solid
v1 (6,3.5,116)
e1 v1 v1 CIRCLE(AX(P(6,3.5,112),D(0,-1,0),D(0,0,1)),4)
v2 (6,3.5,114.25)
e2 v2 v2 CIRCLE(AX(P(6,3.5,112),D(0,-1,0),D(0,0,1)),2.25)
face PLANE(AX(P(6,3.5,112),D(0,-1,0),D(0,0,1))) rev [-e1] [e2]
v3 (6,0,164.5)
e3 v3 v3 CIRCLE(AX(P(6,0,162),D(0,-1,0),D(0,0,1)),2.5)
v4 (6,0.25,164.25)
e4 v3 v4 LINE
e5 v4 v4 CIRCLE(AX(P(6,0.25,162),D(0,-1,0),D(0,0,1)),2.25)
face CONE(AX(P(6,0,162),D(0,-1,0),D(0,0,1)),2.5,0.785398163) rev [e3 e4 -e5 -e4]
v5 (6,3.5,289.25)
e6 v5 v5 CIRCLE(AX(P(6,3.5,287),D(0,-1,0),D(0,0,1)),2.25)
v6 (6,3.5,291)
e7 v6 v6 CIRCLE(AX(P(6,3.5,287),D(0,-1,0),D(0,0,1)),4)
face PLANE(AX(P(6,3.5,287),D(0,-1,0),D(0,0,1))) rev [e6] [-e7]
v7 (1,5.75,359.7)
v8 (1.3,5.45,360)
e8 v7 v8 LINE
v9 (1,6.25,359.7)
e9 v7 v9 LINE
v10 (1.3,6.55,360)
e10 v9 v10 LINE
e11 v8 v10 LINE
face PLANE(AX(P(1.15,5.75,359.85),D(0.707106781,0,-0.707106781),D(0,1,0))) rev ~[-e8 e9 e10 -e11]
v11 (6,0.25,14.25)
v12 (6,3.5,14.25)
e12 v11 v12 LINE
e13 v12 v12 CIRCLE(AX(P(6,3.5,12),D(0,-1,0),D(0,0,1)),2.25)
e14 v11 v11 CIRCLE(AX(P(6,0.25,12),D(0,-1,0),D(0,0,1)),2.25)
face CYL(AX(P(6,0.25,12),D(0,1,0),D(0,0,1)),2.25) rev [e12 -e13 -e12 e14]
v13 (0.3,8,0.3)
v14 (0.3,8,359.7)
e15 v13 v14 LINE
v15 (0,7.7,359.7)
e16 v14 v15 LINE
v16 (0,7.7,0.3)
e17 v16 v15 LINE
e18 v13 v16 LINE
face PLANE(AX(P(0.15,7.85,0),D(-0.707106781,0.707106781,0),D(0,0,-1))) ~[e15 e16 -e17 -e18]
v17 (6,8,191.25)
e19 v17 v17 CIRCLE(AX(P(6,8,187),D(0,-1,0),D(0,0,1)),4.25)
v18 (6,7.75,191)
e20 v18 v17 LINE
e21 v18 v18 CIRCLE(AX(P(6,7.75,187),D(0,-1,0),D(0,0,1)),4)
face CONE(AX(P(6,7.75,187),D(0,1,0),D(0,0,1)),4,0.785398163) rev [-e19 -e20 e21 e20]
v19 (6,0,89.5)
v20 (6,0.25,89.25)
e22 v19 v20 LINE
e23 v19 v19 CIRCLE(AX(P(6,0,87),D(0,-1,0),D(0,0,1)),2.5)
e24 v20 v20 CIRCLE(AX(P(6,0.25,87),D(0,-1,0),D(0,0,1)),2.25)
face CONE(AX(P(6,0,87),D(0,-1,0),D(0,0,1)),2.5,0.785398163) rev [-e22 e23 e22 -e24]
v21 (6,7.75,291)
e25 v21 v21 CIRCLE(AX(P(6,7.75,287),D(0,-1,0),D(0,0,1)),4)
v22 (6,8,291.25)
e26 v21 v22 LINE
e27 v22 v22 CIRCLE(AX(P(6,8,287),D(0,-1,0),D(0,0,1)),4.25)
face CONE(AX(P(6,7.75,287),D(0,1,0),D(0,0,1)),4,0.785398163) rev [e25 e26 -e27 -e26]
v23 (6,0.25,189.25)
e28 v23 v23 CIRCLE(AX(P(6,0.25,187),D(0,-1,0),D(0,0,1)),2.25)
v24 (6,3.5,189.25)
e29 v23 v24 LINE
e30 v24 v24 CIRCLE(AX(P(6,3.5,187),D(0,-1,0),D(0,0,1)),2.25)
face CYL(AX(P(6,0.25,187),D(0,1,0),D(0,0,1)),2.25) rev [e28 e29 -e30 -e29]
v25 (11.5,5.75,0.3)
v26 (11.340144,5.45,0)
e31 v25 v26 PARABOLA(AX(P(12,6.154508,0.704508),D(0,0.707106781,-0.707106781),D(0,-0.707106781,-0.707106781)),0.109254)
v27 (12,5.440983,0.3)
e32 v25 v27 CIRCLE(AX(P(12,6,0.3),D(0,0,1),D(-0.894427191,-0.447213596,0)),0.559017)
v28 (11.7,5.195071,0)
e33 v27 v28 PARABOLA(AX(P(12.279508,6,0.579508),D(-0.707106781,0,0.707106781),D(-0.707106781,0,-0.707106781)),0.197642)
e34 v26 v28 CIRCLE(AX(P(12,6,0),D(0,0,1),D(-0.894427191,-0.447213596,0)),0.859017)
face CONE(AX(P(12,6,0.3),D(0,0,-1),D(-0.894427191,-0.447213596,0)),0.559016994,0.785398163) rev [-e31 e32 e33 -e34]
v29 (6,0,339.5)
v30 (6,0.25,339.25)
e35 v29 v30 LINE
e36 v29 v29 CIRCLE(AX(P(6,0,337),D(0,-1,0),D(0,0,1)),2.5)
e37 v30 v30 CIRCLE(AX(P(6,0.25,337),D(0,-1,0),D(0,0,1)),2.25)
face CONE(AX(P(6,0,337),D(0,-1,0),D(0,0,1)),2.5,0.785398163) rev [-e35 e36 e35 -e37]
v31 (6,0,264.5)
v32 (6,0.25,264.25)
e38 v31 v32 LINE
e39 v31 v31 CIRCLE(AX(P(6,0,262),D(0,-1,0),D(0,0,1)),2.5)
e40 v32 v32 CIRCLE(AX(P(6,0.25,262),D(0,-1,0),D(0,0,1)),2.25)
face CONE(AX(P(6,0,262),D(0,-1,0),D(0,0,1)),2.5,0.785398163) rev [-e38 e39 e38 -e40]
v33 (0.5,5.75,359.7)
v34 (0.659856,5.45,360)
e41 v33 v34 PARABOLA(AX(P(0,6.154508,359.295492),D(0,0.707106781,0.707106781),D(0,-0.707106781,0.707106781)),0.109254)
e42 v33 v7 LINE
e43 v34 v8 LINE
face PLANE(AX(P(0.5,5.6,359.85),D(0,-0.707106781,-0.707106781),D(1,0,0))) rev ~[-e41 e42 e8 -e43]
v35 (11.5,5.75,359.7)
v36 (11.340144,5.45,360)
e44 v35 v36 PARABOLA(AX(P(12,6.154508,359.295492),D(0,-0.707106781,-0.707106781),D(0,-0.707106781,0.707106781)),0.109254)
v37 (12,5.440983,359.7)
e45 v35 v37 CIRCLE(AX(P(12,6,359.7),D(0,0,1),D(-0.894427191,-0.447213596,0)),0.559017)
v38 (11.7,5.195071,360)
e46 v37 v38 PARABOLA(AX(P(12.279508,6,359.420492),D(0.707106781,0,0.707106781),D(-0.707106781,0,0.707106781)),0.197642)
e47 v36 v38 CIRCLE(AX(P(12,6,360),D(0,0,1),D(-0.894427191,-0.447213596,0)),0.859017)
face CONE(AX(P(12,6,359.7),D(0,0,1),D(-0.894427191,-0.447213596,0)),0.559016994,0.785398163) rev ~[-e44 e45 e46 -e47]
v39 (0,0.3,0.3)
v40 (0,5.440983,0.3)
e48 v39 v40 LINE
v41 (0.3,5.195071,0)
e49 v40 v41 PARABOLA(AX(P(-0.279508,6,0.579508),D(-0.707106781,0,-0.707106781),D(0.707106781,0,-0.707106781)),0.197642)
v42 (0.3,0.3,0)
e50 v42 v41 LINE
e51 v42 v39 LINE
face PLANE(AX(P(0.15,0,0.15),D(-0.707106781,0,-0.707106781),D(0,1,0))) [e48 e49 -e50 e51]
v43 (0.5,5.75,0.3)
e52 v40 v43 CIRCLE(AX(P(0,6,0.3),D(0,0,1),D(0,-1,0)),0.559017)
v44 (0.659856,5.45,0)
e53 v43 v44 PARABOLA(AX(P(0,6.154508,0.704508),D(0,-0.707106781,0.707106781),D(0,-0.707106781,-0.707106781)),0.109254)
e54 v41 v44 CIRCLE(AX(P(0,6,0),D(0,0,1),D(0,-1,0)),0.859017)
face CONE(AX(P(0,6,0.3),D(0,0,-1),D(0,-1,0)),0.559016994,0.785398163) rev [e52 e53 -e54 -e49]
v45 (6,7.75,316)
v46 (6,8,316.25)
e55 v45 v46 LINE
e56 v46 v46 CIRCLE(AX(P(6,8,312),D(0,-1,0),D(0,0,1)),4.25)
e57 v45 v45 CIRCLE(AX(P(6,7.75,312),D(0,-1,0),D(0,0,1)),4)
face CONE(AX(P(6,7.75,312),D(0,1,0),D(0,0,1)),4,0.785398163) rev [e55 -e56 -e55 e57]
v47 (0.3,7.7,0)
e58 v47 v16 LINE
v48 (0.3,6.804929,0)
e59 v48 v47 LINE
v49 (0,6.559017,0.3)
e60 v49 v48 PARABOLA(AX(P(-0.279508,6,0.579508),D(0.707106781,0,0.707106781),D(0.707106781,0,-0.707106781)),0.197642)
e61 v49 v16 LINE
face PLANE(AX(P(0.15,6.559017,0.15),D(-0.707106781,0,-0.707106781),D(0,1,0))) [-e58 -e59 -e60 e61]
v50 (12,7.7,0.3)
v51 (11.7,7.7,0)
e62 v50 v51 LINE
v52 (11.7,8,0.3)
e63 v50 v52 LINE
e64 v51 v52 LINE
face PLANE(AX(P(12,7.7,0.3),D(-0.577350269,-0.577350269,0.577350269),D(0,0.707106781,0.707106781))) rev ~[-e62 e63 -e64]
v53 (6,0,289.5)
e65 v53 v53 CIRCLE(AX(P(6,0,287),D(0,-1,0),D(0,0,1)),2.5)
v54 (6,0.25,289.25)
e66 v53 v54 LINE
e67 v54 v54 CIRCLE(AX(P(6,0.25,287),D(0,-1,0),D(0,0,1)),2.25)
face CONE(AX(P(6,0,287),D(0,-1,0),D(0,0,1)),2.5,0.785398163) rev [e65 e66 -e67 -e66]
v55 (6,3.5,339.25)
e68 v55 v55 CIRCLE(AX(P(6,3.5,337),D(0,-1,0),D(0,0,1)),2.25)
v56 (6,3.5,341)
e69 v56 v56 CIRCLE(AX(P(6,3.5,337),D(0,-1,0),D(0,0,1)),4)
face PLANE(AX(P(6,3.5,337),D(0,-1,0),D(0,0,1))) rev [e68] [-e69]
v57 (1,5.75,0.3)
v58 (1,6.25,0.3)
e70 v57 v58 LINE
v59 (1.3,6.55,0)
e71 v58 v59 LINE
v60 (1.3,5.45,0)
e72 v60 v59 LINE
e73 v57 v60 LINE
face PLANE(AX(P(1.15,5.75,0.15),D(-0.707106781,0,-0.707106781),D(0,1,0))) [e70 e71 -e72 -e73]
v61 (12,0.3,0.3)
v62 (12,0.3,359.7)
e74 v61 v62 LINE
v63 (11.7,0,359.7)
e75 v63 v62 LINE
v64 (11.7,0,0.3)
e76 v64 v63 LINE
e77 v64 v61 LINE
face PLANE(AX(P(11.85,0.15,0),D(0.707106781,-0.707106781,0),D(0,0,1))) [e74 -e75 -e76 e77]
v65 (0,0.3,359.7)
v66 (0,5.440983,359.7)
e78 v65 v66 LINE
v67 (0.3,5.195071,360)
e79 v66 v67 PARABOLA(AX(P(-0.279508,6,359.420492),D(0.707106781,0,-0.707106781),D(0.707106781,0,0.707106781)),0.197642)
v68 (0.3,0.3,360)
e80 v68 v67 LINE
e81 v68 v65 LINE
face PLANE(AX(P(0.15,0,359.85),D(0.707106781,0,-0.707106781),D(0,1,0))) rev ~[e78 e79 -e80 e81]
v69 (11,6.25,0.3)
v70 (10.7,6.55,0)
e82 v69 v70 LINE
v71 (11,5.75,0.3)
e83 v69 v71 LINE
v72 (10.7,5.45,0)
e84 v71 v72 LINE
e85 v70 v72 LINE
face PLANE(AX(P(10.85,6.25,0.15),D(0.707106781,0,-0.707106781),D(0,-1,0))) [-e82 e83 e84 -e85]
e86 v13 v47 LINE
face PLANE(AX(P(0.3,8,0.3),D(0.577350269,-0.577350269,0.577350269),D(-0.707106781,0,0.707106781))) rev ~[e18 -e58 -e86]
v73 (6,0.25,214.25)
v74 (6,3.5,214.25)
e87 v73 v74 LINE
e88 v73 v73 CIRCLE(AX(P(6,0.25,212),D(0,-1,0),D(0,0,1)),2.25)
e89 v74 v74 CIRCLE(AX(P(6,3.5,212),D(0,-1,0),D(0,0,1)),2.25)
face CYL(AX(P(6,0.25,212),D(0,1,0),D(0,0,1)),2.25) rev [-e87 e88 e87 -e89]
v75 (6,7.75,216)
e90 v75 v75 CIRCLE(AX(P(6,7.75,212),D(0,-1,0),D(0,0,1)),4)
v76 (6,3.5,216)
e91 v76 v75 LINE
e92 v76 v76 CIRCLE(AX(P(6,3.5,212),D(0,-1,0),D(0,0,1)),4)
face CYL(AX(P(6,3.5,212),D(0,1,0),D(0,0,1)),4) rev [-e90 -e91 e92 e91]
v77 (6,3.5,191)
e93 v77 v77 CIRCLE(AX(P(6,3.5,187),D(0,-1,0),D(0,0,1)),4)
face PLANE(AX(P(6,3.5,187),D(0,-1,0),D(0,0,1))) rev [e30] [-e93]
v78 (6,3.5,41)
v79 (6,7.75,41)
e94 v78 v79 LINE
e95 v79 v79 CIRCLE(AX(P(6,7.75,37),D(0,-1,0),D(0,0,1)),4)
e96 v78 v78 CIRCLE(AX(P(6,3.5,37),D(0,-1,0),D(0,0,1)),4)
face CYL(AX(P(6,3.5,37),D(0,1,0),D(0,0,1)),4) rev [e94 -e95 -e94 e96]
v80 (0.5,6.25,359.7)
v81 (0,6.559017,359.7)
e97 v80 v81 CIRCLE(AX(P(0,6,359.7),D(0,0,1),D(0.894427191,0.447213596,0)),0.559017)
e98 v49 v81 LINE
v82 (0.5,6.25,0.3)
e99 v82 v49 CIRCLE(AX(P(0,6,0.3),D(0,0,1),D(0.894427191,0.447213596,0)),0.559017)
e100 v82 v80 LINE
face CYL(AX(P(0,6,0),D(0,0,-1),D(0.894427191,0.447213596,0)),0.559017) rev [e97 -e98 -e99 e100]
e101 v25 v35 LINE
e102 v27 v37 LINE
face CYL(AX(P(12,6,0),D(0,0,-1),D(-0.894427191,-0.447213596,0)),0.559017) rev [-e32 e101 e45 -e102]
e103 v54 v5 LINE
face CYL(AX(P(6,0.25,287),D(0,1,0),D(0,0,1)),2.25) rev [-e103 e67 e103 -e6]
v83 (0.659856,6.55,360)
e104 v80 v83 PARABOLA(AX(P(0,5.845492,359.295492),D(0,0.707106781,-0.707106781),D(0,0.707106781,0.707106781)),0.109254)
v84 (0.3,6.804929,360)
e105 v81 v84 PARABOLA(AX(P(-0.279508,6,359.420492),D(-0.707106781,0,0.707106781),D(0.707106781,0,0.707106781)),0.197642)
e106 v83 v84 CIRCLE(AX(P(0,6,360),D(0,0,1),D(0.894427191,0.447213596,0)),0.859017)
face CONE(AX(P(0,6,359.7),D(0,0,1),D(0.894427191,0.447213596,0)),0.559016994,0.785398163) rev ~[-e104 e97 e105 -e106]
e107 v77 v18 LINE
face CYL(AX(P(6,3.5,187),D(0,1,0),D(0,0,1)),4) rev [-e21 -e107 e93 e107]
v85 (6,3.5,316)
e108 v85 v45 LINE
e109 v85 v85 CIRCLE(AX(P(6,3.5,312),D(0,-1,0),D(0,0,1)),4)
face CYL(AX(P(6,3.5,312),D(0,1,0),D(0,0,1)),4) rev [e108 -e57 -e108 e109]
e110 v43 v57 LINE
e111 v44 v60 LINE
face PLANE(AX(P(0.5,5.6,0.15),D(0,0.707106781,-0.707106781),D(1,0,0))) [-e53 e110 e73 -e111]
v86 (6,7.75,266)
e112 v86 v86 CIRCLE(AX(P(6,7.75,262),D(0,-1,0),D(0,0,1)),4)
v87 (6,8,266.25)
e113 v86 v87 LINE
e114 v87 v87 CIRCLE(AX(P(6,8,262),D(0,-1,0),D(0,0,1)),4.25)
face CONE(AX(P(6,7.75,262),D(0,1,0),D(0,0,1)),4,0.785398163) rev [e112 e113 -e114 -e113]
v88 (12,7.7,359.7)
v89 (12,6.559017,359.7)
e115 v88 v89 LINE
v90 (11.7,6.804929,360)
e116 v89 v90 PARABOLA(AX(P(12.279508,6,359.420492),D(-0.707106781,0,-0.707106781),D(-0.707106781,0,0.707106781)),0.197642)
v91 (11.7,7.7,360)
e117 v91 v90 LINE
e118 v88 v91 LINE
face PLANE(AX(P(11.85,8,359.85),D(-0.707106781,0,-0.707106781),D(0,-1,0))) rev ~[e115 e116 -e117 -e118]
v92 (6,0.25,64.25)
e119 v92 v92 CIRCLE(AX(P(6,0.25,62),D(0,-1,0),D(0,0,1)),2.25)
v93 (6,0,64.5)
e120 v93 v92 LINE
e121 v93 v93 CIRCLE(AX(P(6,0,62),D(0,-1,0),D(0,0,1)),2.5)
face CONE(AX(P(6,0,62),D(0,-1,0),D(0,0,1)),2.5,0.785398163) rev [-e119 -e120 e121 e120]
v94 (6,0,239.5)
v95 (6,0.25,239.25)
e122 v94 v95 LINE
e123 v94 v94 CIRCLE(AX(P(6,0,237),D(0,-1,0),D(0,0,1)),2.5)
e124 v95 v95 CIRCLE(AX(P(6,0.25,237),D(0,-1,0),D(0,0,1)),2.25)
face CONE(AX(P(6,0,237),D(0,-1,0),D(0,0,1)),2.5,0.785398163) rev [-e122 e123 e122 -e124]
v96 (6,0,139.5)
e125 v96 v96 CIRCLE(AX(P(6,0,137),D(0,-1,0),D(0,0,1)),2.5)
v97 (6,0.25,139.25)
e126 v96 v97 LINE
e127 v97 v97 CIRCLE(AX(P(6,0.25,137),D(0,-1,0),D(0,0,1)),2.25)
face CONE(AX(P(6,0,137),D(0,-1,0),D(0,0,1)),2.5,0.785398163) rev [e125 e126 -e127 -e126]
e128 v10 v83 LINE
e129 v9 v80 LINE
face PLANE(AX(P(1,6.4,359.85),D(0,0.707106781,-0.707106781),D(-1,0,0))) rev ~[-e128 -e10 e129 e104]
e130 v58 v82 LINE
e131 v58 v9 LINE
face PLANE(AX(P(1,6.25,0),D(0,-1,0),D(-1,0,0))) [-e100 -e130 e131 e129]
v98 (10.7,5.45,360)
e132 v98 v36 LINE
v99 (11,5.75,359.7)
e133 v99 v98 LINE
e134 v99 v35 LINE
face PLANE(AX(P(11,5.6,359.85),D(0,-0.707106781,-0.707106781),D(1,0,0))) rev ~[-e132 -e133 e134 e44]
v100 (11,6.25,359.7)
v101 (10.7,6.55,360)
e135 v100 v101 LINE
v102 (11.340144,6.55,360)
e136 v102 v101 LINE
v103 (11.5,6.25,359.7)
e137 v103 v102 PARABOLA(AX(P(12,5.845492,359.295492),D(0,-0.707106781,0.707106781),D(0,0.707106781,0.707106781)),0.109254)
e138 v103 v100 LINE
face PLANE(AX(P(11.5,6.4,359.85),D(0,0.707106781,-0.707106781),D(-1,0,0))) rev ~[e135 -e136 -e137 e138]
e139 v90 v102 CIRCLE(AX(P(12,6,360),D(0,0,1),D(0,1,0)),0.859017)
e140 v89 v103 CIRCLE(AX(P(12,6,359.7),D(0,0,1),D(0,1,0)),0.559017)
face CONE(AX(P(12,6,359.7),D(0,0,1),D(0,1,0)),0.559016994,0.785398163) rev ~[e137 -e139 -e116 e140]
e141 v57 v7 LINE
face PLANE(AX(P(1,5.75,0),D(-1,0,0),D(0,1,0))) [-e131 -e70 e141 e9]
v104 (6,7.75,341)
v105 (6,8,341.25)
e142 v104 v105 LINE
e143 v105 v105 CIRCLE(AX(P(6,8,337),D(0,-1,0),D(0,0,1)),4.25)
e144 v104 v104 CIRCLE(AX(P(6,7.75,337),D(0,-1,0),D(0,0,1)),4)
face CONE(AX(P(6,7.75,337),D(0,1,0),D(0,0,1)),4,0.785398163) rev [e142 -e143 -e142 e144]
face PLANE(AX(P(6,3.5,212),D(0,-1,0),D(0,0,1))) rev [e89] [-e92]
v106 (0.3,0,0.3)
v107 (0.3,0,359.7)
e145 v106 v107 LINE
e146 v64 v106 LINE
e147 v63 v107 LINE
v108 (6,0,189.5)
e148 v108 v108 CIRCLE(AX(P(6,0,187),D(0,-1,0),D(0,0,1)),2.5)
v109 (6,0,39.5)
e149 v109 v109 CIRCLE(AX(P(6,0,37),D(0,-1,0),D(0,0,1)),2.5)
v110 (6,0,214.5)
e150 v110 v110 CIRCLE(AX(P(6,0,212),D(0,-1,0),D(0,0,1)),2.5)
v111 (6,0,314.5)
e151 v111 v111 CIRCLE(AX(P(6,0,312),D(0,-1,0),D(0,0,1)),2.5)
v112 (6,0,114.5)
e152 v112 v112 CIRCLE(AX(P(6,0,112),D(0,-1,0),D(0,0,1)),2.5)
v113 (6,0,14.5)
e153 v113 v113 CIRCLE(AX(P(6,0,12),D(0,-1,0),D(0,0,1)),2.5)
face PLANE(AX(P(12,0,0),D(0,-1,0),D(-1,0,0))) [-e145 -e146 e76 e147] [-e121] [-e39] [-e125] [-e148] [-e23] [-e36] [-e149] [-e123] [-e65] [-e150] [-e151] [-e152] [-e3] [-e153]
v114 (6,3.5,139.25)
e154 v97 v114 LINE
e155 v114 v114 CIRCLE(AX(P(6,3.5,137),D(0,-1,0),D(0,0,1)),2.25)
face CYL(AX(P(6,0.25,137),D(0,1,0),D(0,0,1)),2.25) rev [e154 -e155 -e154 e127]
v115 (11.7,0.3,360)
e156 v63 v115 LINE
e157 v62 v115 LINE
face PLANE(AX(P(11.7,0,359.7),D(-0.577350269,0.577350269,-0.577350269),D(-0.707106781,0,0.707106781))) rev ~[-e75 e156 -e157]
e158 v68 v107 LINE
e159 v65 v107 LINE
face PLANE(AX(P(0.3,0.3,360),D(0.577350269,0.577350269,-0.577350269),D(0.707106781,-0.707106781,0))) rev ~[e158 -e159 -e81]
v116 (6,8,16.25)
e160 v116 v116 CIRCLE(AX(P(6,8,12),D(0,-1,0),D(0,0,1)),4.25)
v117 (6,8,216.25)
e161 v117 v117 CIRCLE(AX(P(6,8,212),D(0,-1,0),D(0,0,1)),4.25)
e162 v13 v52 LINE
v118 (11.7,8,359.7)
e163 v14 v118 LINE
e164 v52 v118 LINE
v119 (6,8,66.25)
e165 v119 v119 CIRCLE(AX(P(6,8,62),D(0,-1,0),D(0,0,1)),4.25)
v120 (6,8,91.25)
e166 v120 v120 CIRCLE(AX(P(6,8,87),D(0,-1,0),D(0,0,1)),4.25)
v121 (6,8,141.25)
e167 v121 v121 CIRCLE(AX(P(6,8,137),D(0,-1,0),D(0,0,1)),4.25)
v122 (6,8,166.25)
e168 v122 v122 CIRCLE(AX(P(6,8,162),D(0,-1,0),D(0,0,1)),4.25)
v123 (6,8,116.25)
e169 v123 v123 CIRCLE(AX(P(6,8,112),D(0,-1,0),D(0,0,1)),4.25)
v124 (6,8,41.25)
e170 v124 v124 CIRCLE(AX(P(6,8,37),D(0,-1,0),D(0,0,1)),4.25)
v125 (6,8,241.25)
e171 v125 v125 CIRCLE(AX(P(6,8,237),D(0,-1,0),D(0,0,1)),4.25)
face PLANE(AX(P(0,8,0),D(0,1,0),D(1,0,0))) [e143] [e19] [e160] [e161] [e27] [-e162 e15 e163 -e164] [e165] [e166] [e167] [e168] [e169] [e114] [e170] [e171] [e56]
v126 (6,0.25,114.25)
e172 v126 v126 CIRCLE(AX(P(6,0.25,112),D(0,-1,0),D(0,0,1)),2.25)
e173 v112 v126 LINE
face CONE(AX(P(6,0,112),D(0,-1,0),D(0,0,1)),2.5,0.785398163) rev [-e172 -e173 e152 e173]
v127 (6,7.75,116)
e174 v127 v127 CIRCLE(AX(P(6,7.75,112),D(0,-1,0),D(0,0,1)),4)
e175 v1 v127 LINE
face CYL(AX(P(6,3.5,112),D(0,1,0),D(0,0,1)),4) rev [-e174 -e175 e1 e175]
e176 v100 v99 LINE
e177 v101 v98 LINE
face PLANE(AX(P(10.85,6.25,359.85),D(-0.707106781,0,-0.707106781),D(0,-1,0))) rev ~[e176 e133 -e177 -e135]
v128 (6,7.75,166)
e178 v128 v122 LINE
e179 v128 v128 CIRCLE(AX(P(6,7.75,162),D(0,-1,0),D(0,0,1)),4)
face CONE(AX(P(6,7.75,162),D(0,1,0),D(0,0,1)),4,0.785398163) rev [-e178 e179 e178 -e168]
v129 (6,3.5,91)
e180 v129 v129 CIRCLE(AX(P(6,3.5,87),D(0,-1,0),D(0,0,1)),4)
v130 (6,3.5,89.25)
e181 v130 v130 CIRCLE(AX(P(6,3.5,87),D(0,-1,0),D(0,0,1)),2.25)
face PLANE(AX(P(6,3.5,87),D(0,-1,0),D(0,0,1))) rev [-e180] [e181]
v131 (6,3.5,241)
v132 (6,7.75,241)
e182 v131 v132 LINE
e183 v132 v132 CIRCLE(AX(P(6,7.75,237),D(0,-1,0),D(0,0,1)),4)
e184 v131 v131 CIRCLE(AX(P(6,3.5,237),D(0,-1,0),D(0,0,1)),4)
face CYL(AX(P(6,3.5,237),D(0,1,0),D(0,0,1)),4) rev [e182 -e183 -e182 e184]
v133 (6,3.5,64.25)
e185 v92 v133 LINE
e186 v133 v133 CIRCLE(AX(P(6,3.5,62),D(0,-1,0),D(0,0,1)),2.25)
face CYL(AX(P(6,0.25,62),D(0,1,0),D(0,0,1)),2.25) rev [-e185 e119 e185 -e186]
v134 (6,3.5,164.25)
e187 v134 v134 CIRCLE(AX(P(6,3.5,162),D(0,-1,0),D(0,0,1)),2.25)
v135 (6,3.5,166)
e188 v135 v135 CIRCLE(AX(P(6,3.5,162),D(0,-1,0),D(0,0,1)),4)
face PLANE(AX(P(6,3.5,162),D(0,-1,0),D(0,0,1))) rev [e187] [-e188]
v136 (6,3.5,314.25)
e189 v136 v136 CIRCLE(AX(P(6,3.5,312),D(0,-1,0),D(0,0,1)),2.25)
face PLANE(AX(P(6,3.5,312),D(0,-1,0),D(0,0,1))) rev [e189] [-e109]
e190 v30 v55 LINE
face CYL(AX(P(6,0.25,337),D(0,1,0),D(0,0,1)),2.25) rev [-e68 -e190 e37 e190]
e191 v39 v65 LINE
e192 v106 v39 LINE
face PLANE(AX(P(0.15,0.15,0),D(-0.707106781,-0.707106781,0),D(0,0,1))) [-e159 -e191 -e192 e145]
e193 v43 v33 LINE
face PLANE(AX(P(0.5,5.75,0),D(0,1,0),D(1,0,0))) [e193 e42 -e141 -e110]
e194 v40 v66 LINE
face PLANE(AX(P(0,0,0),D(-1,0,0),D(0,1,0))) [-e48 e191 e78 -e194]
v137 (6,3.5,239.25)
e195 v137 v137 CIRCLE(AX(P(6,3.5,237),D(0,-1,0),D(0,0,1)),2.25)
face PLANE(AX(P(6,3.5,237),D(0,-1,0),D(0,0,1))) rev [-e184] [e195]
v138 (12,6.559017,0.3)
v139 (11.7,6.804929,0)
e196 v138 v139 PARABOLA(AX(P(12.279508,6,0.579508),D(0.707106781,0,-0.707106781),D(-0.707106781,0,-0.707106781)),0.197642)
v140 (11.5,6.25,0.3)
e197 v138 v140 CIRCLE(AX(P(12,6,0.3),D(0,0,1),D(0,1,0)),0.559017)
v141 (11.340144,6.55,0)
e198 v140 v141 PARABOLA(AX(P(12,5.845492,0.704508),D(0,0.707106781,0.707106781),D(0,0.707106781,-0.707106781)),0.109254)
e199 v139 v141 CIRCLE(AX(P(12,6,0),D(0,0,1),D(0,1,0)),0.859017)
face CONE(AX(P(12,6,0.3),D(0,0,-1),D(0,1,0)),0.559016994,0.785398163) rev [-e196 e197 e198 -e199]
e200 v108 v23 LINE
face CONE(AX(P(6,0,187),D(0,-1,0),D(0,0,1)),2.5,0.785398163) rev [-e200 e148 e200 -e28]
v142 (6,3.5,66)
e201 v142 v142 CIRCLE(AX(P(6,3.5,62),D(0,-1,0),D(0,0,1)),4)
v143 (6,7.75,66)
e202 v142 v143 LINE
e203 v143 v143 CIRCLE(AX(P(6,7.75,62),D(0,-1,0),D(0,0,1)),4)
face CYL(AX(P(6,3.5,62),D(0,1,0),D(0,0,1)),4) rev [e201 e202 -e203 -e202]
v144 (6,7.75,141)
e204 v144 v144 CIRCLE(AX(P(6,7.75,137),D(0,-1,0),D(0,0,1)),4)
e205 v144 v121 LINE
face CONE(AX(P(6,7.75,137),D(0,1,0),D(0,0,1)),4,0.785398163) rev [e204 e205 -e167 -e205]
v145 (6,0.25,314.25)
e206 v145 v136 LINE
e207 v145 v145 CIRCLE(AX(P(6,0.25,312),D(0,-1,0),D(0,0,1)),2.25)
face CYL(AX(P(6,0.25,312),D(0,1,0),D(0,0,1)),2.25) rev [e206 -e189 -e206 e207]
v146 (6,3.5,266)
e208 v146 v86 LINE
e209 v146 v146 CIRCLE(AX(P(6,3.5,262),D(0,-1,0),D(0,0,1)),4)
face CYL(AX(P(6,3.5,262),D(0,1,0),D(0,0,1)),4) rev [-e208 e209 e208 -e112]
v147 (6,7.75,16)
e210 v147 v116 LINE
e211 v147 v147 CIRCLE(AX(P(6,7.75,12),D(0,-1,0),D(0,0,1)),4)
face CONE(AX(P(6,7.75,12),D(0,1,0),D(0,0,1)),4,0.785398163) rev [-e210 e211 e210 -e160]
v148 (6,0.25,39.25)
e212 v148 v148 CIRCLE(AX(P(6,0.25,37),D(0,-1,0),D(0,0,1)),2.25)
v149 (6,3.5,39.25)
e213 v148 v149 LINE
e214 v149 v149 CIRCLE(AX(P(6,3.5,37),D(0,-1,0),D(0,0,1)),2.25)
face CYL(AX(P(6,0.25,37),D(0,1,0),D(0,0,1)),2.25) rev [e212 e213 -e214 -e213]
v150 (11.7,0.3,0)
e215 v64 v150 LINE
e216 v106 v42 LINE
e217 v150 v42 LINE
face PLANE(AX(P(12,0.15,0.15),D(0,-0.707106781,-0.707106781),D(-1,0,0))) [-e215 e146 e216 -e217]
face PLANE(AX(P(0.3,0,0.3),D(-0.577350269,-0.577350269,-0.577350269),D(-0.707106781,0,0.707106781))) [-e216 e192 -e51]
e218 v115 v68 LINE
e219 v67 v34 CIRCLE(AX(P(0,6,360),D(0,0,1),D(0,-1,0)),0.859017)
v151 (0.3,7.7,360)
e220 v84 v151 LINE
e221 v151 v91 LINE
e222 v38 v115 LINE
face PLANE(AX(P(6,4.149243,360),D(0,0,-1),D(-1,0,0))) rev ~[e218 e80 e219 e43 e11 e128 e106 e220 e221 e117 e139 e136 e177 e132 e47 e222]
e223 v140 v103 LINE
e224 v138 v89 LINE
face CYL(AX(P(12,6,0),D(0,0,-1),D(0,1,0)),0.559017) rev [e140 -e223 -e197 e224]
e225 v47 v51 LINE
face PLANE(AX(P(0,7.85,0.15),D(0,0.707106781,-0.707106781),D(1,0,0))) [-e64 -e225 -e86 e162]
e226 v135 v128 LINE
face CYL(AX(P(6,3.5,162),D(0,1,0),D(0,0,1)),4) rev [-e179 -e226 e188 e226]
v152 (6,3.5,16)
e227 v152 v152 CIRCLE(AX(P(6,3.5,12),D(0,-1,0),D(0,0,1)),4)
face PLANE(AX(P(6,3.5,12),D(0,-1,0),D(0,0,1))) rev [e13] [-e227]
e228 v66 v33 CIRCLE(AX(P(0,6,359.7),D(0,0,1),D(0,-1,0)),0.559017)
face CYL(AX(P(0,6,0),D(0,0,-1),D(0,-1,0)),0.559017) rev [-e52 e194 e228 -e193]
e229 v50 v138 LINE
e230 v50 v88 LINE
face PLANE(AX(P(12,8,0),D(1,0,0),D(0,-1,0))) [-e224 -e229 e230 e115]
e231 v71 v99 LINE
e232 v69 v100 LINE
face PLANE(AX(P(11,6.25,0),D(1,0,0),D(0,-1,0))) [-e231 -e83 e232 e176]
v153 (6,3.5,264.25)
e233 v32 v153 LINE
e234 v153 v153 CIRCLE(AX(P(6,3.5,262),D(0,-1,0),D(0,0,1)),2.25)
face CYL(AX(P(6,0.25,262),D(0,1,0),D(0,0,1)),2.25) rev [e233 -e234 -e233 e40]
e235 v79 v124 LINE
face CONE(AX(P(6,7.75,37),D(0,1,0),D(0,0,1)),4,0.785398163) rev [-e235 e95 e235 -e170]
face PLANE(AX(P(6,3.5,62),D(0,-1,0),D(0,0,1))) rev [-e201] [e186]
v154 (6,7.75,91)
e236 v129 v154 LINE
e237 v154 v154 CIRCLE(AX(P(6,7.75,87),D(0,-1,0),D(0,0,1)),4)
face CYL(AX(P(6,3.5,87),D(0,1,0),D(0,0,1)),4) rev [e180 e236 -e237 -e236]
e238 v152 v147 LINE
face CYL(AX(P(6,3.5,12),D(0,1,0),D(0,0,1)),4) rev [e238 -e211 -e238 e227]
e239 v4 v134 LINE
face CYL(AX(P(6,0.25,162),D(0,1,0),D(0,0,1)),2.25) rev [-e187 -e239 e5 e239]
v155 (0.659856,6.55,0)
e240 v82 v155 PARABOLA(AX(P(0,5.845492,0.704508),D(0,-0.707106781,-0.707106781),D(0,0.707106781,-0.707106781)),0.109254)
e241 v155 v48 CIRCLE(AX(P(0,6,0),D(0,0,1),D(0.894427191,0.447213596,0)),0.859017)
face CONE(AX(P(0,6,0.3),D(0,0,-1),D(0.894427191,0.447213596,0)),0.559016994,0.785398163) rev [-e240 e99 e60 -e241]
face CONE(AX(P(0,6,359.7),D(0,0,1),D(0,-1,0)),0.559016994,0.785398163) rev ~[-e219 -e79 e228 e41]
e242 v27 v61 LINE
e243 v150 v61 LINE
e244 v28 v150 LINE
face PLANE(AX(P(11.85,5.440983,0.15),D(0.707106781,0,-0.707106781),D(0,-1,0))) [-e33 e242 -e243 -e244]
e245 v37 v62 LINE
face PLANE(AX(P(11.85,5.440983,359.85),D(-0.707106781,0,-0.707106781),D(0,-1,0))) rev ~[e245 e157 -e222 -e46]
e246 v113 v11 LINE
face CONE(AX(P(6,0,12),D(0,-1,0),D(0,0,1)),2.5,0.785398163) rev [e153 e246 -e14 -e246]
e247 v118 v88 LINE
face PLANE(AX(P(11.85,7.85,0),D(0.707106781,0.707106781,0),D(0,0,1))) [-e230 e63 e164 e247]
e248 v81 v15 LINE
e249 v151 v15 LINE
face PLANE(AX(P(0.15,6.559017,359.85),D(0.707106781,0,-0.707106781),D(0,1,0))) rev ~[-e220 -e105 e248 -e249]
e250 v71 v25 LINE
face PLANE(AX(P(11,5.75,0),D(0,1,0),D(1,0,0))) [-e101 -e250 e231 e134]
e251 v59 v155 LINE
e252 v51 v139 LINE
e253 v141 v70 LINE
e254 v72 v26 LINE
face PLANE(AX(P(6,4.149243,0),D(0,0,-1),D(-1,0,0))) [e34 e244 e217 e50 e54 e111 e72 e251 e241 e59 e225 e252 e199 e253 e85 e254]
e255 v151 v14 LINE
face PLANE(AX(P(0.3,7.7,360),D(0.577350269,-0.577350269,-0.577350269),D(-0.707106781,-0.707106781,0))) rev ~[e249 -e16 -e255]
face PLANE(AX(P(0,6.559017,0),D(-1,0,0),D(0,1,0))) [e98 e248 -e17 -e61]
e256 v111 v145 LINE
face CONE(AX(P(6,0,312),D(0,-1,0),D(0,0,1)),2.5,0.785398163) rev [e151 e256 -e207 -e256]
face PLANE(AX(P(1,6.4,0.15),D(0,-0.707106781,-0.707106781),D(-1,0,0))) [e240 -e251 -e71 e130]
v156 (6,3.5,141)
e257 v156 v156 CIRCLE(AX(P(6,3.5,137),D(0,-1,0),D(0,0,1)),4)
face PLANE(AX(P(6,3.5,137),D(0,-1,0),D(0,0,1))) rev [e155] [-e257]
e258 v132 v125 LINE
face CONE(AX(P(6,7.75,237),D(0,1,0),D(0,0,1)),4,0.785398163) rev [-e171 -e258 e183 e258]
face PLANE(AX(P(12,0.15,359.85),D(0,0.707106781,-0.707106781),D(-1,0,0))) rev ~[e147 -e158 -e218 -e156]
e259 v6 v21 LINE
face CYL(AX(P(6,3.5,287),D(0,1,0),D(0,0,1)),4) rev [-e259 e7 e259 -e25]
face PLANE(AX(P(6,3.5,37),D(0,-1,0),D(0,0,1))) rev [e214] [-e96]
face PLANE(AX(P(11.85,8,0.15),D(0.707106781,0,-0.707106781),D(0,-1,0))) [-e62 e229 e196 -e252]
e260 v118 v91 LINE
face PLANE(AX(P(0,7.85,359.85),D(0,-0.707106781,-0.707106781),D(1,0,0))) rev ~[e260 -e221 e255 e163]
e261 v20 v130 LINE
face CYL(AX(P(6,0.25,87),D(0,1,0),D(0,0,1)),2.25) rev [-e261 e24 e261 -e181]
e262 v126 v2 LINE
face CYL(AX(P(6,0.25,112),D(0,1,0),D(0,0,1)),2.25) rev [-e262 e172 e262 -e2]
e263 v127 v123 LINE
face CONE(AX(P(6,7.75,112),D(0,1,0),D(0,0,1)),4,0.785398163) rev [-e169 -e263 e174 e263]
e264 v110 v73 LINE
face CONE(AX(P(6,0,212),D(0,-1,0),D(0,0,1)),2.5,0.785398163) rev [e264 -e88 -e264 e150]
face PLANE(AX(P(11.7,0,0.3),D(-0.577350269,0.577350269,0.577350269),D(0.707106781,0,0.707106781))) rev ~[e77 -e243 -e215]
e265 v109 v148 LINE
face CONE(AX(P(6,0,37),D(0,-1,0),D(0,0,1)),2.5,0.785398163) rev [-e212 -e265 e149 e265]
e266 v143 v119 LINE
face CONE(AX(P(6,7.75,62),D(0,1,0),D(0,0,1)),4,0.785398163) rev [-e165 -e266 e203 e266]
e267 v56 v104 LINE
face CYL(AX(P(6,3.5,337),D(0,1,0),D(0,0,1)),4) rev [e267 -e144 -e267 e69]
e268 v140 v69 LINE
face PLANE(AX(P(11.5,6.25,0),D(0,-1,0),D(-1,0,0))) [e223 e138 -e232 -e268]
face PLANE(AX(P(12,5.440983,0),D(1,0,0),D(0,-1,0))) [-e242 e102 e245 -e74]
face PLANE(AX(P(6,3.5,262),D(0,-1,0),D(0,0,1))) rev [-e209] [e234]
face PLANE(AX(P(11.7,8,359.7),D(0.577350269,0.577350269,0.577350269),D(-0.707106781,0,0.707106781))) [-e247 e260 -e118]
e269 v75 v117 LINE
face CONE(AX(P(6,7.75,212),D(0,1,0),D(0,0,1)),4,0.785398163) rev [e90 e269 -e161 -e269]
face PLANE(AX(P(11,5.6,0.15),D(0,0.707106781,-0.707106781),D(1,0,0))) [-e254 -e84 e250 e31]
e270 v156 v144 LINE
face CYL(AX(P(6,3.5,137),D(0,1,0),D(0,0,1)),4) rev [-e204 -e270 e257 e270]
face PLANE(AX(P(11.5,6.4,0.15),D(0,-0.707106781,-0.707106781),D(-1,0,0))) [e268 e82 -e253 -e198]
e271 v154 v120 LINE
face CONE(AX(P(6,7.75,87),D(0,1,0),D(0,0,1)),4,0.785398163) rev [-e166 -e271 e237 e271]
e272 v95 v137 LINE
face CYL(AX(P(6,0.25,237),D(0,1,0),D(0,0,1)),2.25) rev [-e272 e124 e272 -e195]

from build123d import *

# Parameters (mm, degrees)
BOSS_EXTRUDE1_DEPTH = 360
CHAMFER1_SIZE       = 0.3
LPATTERN1_COUNT     = 14
LPATTERN1_PITCH     = 25


with BuildPart() as part:
    # Sketch1 → Boss-Extrude1 (new body)
    with BuildSketch(Plane.XY):
        with BuildLine():
            Line((0, 8), (12, 8))
            Line((12, 8), (12, 6.75))
            Line((12, 6.75), (12, 6.559016994))
            ThreePointArc((12, 6.559016994), (11.706107374, 6.475528258), (11.5, 6.25))
            Line((11.5, 6.25), (11, 6.25))
            Line((11, 6.25), (11, 5.75))
            Line((11, 5.75), (11.5, 5.75))
            ThreePointArc((11.5, 5.75), (11.706107374, 5.524471742), (12, 5.440983006))
            Line((12, 5.440983006), (12, 5.25))
            Line((12, 5.25), (12, 0))
            Line((12, 0), (0, 0))
            Line((0, 0), (0, 5.25))
            Line((0, 5.25), (0, 5.440983006))
            ThreePointArc((0, 5.440983006), (0.293892626, 5.524471742), (0.5, 5.75))
            Line((0.5, 5.75), (1, 5.75))
            Line((1, 5.75), (1, 6.25))
            Line((1, 6.25), (0.5, 6.25))
            ThreePointArc((0.5, 6.25), (0.293892626, 6.475528258), (0, 6.559016994))
            Line((0, 6.559016994), (0, 6.75))
            Line((0, 6.75), (0, 8))
        make_face()
    extrude(amount=BOSS_EXTRUDE1_DEPTH)

    # Chamfer1
    chamfer1_edges = [part.edges().sort_by_distance(p)[0] for p in [
        (12, 2.720491503, 360),
        (11.706107374, 5.524471742, 360),
        (0, 2.720491503, 0),
        (0.293892626, 5.524471742, 0),
        (0.75, 5.75, 0),
        (1, 6, 0),
        (0.75, 6.25, 0),
        (11.25, 5.75, 360),
        (0.293892626, 6.475528258, 0),
        (0, 7.279508497, 0),
        (6, 8, 0),
        (12, 7.279508497, 0),
        (11.706107374, 6.475528258, 0),
        (11, 6, 360),
        (11.25, 6.25, 0),
        (11, 6, 0),
        (11.25, 5.75, 0),
        (11.706107374, 5.524471742, 0),
        (12, 2.720491503, 0),
        (6, 0, 0),
        (11.25, 6.25, 360),
        (11.706107374, 6.475528258, 360),
        (12, 7.279508497, 360),
        (0, 8, 180),
        (12, 8, 180),
        (12, 0, 180),
        (0, 0, 180),
        (6, 8, 360),
        (0, 2.720491503, 360),
        (0, 7.279508497, 360),
        (0.293892626, 6.475528258, 360),
        (0.75, 6.25, 360),
        (1, 6, 360),
        (0.75, 5.75, 360),
        (0.293892626, 5.524471742, 360),
        (6, 0, 360),
    ]]
    chamfer(chamfer1_edges, length=CHAMFER1_SIZE)

    # Sketch3 → CBORE for M5 Hex Head Bolt1 (revolve, cut)
    with BuildSketch(Plane(origin=(6, 8, 12), x_dir=(0, 0, 1), z_dir=(1, 0, 0))):
        Polygon((0, 0), (0, 8), (2.5, 8), (2.25, 7.75), (2.25, 4.5), (4, 4.5), (4, 0.25), (4.25, 0), align=None)
    cbore_for_m5_hex_head_bolt1 = revolve(axis=Axis((6, 14.35, 12), (0, -1, 0)), mode=Mode.SUBTRACT)

    # LPattern1: CBORE for M5 Hex Head Bolt1 ×14
    with Locations(*[(0, 0, i * LPATTERN1_PITCH) for i in range(1, LPATTERN1_COUNT)]):
        add(cbore_for_m5_hex_head_bolt1, mode=Mode.SUBTRACT)


solid = part.part
